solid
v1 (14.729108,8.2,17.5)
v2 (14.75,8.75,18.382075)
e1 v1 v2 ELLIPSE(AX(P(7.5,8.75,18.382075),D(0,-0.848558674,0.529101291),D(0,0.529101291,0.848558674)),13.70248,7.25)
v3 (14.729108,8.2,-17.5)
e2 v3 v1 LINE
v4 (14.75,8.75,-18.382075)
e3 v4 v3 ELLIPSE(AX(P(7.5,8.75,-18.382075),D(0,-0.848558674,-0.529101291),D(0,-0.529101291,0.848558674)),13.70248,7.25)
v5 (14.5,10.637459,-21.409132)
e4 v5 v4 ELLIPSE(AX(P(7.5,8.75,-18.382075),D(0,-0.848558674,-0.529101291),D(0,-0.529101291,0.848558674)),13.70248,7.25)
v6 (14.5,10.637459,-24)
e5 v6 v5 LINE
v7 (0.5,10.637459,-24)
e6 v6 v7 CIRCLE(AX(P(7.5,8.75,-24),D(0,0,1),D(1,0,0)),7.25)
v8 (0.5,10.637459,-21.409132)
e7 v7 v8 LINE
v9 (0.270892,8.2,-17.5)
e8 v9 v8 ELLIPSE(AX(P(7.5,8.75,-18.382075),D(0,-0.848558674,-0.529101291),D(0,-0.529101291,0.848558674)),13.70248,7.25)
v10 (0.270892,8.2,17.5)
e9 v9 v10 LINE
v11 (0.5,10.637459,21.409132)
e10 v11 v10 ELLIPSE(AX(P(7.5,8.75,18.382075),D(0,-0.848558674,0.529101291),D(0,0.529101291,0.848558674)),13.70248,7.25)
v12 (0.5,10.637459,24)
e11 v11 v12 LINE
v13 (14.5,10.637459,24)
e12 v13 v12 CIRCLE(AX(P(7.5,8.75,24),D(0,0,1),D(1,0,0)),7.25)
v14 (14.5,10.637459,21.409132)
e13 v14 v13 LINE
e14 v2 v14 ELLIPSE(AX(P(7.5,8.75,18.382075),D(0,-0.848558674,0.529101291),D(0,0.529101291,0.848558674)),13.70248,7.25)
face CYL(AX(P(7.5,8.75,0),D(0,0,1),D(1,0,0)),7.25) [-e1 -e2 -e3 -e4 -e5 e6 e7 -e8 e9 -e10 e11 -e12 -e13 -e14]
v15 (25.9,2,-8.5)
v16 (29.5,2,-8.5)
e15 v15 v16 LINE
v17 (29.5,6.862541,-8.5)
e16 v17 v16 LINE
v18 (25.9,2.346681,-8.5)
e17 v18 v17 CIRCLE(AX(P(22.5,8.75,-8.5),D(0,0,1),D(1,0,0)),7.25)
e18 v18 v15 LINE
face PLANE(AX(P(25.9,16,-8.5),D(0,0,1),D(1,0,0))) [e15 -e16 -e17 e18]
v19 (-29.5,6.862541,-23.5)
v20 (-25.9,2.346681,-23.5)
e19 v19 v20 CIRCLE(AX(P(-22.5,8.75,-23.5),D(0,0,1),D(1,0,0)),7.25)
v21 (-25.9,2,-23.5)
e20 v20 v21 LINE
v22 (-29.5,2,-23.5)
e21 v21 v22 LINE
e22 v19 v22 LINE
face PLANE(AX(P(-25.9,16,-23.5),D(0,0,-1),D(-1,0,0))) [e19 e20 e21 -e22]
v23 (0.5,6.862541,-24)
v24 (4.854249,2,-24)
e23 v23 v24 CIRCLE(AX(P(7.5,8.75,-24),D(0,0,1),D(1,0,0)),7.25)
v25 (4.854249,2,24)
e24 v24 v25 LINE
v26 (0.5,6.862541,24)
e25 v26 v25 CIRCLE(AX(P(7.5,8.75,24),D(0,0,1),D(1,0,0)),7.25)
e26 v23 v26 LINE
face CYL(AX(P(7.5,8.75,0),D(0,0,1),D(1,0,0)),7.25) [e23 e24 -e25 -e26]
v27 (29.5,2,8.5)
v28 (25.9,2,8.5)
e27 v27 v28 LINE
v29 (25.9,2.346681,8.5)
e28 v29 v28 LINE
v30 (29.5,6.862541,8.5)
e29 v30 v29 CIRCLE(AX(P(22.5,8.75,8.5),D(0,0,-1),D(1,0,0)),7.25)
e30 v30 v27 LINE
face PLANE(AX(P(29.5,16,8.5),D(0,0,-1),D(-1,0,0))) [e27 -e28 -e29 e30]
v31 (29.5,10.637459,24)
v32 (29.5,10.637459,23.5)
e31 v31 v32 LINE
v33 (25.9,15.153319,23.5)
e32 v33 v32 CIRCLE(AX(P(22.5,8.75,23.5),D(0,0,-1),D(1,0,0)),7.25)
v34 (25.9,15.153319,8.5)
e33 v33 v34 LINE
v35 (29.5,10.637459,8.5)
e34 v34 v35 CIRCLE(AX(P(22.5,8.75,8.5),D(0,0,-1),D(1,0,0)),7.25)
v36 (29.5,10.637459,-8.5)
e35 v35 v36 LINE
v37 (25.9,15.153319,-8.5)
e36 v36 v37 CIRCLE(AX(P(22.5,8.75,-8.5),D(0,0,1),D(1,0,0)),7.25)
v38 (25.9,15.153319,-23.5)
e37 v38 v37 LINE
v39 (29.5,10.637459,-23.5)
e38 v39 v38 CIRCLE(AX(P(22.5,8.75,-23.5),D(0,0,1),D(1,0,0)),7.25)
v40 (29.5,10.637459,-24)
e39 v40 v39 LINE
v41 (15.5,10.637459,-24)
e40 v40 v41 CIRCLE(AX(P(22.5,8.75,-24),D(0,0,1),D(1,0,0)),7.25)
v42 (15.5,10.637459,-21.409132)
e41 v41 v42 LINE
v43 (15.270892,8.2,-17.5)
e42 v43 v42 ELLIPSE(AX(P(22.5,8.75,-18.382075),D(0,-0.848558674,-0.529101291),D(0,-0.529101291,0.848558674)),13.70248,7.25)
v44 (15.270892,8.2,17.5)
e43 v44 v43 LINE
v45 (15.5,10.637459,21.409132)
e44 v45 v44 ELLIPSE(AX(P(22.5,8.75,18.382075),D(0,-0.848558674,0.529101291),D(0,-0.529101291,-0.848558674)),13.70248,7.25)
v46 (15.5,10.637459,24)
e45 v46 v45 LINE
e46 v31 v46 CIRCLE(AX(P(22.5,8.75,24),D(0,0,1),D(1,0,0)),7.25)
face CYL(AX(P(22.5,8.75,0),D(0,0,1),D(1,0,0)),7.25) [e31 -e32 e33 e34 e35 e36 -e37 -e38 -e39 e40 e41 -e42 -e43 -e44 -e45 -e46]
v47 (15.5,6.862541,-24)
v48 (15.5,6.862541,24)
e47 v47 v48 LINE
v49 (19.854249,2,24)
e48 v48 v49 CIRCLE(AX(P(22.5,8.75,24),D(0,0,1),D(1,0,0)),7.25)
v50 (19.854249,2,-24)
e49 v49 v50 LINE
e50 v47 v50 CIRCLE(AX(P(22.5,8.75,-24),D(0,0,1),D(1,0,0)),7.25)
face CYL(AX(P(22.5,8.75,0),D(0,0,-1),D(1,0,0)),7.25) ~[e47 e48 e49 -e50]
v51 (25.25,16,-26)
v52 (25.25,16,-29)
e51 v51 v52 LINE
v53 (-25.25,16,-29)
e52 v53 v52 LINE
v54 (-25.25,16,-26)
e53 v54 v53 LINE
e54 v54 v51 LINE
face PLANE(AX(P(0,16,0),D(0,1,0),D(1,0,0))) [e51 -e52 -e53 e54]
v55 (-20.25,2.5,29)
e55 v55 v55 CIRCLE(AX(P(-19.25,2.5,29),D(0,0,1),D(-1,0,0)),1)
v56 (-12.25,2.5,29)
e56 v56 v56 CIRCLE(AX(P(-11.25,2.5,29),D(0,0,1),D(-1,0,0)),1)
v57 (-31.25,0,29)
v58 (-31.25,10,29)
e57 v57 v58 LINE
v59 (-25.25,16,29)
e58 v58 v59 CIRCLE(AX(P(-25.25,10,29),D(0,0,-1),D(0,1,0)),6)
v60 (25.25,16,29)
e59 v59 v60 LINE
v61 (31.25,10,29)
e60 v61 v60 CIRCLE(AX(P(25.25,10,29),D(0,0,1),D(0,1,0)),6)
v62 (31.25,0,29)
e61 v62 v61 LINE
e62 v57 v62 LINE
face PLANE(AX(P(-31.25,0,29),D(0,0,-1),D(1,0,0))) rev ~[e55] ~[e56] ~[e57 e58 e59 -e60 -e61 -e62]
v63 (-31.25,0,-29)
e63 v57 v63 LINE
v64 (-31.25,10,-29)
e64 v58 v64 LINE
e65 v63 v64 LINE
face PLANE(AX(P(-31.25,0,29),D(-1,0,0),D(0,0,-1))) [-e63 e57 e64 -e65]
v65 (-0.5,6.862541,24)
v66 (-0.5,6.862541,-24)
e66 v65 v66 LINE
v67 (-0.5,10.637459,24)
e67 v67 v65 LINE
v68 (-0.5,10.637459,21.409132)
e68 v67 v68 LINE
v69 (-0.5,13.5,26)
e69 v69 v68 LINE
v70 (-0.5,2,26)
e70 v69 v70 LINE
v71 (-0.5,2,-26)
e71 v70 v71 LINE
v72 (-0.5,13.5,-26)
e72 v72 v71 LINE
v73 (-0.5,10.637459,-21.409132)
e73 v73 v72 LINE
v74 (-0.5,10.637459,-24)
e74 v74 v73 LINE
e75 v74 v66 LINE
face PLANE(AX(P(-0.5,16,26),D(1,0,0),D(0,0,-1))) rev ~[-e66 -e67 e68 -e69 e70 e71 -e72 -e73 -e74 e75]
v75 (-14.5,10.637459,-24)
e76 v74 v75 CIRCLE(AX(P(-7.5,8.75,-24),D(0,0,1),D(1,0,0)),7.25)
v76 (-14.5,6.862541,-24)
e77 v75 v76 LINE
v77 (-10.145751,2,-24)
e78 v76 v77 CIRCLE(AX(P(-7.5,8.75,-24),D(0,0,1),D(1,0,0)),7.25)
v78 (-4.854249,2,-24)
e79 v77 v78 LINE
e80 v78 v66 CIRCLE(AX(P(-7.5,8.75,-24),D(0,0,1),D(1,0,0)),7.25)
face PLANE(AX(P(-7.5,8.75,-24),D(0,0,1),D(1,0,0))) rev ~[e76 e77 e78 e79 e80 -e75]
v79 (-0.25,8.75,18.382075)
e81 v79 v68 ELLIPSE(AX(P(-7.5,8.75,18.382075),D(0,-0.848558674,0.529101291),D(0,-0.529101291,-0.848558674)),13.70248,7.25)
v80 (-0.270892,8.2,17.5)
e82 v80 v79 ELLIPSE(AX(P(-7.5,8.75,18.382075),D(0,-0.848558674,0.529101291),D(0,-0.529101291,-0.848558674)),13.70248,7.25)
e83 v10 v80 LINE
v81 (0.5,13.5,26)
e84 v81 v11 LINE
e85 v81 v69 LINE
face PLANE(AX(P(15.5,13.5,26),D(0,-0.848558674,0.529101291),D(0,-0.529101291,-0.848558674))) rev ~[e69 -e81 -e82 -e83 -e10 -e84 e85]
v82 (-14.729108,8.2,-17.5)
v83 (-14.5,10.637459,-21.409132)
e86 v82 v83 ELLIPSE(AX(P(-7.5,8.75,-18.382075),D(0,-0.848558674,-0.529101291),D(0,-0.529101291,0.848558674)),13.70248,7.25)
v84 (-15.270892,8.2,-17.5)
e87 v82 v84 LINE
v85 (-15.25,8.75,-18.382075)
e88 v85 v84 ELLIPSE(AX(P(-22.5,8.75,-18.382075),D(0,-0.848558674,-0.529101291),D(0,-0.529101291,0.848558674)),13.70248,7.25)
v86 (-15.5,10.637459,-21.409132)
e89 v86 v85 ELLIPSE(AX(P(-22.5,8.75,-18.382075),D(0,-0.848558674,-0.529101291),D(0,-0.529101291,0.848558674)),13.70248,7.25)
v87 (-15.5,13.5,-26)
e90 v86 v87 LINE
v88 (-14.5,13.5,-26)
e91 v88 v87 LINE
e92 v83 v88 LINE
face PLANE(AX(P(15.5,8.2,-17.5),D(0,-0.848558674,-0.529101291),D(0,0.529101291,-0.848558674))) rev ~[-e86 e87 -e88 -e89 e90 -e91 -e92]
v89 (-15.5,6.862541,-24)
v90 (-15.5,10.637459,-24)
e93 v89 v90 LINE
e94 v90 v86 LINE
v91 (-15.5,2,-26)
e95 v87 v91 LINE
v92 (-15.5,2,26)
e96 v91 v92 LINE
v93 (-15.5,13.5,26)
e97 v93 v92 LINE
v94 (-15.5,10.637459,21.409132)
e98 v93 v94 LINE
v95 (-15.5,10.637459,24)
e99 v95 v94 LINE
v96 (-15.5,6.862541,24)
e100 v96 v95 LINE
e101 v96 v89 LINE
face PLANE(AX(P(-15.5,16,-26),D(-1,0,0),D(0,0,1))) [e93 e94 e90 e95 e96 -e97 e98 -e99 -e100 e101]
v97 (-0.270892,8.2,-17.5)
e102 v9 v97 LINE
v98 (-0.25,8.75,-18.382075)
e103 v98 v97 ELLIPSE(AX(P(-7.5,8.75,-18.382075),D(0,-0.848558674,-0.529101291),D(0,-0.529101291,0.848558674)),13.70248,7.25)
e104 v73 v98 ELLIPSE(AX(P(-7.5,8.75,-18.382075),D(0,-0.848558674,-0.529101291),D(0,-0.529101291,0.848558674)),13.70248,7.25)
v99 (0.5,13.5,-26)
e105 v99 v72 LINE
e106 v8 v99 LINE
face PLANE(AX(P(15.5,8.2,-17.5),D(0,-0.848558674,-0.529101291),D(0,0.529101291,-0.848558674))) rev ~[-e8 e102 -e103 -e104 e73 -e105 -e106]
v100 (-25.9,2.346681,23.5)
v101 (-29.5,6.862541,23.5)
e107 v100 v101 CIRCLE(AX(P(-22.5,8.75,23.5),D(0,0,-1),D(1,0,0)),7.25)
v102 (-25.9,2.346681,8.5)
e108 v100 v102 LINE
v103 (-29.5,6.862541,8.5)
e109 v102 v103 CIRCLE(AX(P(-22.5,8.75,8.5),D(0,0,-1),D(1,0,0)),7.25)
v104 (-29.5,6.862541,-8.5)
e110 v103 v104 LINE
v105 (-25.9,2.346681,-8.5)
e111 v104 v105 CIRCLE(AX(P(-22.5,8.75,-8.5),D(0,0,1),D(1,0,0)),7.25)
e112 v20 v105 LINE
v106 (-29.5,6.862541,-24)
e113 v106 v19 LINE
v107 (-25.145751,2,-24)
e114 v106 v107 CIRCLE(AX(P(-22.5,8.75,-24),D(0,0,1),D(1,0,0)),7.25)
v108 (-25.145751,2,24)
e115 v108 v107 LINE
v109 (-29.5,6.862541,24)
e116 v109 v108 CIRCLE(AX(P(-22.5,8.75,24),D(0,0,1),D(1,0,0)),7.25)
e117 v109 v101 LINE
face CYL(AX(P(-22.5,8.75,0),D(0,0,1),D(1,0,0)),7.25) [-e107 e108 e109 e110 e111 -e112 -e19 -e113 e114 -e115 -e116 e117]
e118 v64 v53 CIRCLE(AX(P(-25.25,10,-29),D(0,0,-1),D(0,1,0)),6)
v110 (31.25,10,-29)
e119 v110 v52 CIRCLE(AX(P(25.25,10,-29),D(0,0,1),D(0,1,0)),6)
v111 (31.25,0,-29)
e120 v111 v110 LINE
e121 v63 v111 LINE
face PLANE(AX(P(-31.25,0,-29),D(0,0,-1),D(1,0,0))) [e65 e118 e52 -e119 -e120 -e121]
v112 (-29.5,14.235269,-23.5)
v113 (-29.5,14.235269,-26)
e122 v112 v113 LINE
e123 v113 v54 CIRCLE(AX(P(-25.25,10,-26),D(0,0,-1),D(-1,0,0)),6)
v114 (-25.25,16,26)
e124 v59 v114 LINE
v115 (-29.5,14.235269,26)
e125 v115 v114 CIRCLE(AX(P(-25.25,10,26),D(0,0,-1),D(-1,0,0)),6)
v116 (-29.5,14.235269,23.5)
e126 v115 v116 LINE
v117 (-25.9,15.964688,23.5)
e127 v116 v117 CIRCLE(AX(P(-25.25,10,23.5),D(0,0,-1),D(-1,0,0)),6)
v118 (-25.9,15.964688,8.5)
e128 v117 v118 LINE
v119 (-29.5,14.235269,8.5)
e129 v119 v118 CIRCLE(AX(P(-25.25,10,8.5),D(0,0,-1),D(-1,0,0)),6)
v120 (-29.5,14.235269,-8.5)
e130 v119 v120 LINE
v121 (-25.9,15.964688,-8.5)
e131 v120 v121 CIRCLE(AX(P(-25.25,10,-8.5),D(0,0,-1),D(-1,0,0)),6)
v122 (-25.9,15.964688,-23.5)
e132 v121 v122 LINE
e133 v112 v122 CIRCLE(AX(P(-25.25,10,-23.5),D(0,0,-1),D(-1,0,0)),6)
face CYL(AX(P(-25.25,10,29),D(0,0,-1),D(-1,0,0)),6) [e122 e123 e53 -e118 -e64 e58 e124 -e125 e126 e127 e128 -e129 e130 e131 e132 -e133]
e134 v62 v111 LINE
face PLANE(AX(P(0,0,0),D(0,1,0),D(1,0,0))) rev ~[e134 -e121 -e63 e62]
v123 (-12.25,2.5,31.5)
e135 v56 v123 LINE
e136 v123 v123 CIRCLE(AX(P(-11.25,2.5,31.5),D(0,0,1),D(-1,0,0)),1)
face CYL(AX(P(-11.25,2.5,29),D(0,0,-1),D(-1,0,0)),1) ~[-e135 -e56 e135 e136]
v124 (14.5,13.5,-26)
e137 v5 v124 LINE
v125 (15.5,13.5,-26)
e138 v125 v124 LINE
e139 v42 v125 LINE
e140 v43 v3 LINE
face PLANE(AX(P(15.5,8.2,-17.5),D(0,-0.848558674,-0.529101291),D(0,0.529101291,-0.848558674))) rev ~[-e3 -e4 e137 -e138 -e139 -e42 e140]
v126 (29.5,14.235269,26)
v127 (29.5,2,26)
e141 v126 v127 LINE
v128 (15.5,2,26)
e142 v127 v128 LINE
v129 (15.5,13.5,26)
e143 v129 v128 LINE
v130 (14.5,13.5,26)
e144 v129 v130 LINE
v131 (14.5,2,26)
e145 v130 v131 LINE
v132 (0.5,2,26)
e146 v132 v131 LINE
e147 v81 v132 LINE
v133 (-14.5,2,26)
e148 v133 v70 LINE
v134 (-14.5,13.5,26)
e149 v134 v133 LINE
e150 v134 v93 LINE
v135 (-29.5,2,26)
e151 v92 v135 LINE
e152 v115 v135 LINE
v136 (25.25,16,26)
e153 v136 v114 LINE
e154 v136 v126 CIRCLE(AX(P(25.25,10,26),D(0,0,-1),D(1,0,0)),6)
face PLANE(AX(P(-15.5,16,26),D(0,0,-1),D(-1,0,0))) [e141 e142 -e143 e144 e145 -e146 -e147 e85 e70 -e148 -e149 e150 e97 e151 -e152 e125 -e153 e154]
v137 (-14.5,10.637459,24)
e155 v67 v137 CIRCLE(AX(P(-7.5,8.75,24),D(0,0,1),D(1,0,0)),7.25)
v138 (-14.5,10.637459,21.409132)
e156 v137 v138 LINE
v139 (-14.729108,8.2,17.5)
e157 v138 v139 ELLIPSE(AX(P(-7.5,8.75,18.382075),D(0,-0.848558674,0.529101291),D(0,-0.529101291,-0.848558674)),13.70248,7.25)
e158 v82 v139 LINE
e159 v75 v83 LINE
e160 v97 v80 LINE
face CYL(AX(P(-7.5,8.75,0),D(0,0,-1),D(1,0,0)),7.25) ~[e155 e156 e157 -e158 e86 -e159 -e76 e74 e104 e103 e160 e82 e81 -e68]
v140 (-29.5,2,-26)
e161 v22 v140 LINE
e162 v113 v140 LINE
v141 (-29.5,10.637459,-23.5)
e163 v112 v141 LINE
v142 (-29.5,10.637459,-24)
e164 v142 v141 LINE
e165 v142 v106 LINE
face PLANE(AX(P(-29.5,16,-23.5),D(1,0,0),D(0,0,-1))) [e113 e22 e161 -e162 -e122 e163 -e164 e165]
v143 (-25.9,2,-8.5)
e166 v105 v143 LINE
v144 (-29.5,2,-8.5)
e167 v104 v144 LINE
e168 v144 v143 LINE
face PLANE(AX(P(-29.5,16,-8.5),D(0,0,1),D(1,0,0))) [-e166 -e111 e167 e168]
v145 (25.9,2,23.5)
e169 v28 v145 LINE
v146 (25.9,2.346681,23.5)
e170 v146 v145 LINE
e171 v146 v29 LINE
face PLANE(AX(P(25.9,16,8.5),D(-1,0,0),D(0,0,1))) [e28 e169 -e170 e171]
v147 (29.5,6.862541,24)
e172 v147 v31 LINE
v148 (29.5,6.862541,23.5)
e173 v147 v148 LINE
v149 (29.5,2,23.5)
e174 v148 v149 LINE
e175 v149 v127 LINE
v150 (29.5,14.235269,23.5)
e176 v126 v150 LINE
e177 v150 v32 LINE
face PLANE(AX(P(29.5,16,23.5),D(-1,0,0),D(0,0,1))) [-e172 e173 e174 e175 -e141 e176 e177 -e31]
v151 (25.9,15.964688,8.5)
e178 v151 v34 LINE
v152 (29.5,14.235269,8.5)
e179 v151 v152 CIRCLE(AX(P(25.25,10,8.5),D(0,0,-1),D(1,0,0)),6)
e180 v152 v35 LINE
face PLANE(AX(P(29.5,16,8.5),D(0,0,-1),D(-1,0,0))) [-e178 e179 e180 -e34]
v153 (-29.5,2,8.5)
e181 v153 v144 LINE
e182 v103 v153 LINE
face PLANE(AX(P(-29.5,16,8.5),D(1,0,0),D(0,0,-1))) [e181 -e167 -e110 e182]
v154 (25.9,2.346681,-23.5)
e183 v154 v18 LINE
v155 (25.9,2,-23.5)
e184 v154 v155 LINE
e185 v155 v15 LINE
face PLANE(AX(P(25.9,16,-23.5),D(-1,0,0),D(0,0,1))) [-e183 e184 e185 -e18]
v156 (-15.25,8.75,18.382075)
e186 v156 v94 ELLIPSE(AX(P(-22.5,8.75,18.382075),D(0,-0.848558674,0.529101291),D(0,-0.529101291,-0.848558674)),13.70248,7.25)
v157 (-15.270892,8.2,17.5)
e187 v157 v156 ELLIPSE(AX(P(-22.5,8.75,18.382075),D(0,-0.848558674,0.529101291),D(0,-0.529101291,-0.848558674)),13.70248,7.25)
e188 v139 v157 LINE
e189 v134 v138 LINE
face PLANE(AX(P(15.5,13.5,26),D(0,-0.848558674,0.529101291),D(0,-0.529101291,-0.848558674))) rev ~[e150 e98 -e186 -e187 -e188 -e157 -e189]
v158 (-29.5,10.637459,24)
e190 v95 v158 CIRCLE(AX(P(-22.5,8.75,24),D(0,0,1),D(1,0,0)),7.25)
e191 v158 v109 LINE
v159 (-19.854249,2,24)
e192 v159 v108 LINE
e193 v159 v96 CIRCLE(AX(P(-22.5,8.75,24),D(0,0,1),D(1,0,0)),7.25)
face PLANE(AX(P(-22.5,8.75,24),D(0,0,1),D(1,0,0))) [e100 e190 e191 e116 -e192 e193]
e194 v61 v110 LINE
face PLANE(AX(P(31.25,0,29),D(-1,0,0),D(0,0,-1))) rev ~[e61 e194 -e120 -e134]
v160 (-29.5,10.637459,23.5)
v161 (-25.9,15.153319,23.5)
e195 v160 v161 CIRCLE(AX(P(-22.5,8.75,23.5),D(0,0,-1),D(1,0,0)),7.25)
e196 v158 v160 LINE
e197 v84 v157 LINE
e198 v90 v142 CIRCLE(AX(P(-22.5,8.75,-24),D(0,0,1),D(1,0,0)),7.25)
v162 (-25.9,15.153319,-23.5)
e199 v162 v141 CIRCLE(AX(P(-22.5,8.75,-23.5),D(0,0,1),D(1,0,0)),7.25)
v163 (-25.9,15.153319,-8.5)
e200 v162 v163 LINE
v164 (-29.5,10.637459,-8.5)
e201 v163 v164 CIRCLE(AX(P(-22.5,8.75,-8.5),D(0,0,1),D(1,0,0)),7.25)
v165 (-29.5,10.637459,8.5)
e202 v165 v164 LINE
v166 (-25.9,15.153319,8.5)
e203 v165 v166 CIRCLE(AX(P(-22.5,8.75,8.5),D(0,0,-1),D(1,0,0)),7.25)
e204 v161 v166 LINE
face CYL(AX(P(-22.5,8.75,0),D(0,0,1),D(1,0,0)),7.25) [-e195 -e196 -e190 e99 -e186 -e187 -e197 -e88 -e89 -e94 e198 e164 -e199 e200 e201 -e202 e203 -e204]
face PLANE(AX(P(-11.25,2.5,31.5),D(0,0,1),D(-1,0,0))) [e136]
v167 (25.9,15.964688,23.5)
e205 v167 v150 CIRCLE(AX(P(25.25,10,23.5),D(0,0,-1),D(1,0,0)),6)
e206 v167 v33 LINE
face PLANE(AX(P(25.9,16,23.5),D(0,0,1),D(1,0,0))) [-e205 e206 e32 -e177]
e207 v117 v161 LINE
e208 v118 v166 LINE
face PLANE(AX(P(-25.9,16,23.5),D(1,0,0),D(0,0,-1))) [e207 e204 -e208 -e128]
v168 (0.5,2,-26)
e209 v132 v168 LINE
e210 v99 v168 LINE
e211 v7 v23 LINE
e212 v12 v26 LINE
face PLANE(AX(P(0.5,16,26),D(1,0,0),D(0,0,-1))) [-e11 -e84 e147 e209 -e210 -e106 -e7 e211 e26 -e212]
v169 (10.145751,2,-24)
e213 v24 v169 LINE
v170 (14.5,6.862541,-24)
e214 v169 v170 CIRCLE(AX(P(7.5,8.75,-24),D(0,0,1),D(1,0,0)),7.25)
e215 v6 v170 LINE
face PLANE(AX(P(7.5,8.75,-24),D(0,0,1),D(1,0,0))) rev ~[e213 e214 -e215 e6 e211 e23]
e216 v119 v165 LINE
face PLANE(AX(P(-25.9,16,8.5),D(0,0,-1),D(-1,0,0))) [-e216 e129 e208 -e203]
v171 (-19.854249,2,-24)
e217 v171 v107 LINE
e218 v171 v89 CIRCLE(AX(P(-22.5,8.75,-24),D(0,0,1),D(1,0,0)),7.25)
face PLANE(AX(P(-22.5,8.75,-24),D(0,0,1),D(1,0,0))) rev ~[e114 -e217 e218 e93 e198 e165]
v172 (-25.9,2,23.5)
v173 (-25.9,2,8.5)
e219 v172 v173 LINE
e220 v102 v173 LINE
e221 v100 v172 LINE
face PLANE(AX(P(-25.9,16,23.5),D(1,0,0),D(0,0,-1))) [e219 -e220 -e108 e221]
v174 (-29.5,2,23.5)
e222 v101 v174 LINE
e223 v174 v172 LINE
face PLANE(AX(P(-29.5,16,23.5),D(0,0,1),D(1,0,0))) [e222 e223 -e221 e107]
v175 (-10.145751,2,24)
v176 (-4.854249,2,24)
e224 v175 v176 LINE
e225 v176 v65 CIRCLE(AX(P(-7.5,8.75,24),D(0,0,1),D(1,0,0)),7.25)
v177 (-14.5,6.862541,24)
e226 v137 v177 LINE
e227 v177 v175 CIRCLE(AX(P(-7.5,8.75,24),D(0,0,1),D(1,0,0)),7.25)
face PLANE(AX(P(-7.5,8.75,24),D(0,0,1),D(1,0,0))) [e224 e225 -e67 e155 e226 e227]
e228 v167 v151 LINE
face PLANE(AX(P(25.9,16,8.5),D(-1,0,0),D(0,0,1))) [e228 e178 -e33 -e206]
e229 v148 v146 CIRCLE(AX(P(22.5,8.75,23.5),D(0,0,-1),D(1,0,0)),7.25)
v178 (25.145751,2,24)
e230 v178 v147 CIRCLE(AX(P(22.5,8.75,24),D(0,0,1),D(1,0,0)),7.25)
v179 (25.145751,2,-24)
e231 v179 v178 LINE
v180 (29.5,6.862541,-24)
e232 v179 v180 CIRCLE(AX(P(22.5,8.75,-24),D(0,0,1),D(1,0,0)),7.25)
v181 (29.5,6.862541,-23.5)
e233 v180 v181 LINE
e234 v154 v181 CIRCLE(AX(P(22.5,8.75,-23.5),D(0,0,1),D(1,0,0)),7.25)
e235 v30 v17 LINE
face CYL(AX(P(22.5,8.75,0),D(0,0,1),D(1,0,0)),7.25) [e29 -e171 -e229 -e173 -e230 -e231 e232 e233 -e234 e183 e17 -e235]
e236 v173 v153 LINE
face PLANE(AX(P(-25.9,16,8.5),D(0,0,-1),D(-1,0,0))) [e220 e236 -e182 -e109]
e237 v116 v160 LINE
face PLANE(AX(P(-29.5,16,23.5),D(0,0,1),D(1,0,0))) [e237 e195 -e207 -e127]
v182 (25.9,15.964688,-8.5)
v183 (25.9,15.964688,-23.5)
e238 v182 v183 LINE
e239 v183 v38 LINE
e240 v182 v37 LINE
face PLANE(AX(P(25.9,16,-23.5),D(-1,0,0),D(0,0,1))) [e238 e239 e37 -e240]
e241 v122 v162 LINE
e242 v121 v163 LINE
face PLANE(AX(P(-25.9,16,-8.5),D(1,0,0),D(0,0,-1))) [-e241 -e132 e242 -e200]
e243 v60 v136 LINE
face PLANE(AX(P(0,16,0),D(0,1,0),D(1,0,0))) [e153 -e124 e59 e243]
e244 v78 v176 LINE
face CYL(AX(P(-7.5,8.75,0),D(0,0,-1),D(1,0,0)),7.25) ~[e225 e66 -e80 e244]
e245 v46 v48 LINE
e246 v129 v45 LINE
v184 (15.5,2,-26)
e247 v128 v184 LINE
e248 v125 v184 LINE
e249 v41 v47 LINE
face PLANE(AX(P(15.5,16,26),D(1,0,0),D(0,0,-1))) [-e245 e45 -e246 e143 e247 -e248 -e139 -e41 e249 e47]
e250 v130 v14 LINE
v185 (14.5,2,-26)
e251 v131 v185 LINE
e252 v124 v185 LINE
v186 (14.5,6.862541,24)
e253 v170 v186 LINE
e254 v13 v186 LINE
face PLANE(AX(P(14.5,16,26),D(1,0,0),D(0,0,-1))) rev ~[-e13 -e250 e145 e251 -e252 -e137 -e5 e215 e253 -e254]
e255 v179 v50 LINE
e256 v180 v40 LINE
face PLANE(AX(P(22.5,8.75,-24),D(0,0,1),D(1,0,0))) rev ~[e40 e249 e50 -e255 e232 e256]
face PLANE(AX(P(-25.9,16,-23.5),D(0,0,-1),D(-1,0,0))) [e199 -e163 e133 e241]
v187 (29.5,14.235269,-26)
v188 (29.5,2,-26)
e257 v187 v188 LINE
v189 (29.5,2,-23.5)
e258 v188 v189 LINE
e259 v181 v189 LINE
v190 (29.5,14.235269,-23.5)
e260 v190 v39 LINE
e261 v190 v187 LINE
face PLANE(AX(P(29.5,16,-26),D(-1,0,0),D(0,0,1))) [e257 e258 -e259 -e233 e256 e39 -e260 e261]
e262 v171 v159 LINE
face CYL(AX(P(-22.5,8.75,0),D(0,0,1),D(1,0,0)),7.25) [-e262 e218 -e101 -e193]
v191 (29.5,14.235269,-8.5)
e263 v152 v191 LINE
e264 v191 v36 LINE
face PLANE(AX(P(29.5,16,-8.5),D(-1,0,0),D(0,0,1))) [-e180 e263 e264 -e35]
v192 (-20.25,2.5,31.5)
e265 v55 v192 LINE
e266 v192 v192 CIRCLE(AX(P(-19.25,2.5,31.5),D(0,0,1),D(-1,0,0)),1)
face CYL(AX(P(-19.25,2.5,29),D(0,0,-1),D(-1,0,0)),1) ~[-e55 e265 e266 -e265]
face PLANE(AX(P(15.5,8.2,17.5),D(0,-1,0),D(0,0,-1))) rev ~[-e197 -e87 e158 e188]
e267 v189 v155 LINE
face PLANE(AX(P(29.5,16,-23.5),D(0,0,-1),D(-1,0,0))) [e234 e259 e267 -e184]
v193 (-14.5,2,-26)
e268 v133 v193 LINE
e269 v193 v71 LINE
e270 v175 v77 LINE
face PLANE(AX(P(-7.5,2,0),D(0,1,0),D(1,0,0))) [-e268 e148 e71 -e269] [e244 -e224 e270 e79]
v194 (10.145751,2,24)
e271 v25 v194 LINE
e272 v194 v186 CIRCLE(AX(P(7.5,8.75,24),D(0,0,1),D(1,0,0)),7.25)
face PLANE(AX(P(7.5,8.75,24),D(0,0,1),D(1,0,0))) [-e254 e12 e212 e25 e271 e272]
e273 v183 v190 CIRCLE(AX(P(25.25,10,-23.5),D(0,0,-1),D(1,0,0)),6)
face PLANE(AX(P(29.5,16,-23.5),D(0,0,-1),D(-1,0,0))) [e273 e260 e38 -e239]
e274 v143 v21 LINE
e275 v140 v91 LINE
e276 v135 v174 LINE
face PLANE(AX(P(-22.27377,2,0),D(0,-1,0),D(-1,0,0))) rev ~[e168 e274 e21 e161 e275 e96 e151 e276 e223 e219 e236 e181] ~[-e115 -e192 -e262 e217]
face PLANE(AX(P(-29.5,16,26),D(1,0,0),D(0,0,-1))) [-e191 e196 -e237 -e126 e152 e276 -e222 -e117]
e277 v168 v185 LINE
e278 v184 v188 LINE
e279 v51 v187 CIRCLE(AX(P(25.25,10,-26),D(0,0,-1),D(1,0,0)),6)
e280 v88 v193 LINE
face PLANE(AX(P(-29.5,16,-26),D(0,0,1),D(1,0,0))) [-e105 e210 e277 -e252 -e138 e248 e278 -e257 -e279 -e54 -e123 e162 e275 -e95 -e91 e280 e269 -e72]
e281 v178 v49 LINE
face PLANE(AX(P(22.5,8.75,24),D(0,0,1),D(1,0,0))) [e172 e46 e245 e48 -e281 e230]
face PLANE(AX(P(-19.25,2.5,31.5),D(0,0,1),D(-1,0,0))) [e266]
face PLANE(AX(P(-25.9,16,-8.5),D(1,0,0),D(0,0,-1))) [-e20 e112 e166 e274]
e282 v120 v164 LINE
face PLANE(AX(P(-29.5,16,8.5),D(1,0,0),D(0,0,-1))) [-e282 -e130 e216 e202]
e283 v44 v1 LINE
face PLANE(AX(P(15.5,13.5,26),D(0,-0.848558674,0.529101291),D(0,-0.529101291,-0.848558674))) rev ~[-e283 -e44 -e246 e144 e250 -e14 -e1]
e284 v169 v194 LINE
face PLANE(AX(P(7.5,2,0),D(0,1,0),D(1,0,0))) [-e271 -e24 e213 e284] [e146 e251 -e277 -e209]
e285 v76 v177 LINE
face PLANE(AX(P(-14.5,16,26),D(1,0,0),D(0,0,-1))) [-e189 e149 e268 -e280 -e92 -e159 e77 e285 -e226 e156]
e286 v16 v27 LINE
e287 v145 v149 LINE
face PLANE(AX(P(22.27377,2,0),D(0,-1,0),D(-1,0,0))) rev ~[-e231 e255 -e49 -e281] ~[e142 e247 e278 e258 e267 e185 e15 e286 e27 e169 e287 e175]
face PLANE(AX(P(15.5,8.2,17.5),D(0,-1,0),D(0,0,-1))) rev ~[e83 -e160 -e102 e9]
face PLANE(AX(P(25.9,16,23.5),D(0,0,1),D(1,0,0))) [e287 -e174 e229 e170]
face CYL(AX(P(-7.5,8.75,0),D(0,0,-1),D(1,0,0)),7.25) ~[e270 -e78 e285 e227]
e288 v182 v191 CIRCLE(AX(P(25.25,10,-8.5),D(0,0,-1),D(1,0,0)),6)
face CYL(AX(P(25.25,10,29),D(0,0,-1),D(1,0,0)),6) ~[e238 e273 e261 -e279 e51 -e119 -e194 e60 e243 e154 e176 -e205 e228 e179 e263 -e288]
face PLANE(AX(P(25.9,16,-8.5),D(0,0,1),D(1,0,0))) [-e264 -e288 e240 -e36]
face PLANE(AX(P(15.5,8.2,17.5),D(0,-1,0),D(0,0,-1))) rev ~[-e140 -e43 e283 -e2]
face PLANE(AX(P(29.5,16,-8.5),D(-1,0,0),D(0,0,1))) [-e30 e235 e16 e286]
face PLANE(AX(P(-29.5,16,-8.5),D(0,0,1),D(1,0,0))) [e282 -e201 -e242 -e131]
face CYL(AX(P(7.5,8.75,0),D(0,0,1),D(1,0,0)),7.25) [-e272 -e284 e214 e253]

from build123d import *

# Parameters (mm, degrees)
SKETCH1_W           = 62.5
SKETCH1_H           = 58
BOSS_EXTRUDE1_DEPTH = 16
FILLET1_R           = 6
SKETCH2_W           = 14
SKETCH2_H           = 52
CUT_EXTRUDE1_DEPTH  = 14
CUT_EXTRUDE2_REACH  = 59.294
SKETCH4_R           = 7.25
BOSS_EXTRUDE3_DEPTH = 24
SKETCH6_R           = 1
BOSS_EXTRUDE5_DEPTH = 2.5


with BuildPart() as part:
    # Sketch1 → Boss-Extrude1 (new body)
    with BuildSketch(Plane(origin=(0, 0, 0), x_dir=(1, 0, 0), z_dir=(0, 1, 0))):
        Rectangle(SKETCH1_W, SKETCH1_H)
    extrude(amount=BOSS_EXTRUDE1_DEPTH)

    # Fillet1
    fillet1_edges = [part.edges().sort_by_distance(p)[0] for p in [
        (-31.25, 16, 0),
        (31.25, 16, 0),
    ]]
    fillet(fillet1_edges, radius=FILLET1_R)

    # Sketch2 → Cut-Extrude1 (cut)
    with BuildSketch(Plane(origin=(0, 16, 0), x_dir=(1, 0, 0), z_dir=(0, 1, 0))):
        Polygon((-29.5, 26), (-15.5, 26), (-15.5, -26), (-29.5, -26), (-29.5, -23.5), (-25.9, -23.5), (-25.9, -8.5), (-29.5, -8.5), (-29.5, 8.5), (-25.9, 8.5), (-25.9, 23.5), (-29.5, 23.5), align=None)
        with Locations((-7.5, 0)):
            Rectangle(SKETCH2_W, SKETCH2_H)
        Polygon((15.5, 26), (29.5, 26), (29.5, 23.5), (25.9, 23.5), (25.9, 8.5), (29.5, 8.5), (29.5, -8.5), (25.9, -8.5), (25.9, -23.5), (29.5, -23.5), (29.5, -26), (15.5, -26), align=None)
        with Locations((7.5, 0)):
            Rectangle(SKETCH2_W, SKETCH2_H)
    extrude(amount=-CUT_EXTRUDE1_DEPTH, mode=Mode.SUBTRACT)

    # Cut-Extrude2: up to this face of the body (flat: up to its plane)
    cut_extrude2_end = Plane(part.part.faces().sort_by_distance((-15.5, 9, 0))[0])
    # Sketch3 → Cut-Extrude2 (cut, up to the picked face)
    with BuildSketch(Plane(origin=(15.5, 0, 0), x_dir=(0, 0, -1), z_dir=(1, 0, 0)), mode=Mode.PRIVATE) as cut_extrude2_sk1:
        Polygon((-26, 16), (-26, 13.5), (-17.5, 8.2), (17.5, 8.2), (26, 13.5), (26, 16), align=None)
    cut_extrude2_tool1 = split(extrude(cut_extrude2_sk1.sketch, amount=-CUT_EXTRUDE2_REACH, mode=Mode.PRIVATE), bisect_by=cut_extrude2_end, keep=Keep.BOTH, mode=Mode.PRIVATE)
    add(cut_extrude2_tool1.solids().sort_by(Axis((15.5, 12.366556, 0), (-1, 0, 0)))[0], mode=Mode.SUBTRACT)

    # Sketch4 → Boss-Extrude3 (add, symmetric)
    with BuildSketch(Plane.XY):
        with Locations((-22.5, 8.75)):
            Circle(SKETCH4_R)
        with Locations((-7.5, 8.75)):
            Circle(SKETCH4_R)
        with Locations((22.5, 8.75)):
            Circle(SKETCH4_R)
        with Locations((7.5, 8.75)):
            Circle(SKETCH4_R)
    extrude(amount=BOSS_EXTRUDE3_DEPTH, both=True)

    # Sketch6 → Boss-Extrude5 (add)
    with BuildSketch(Plane.XY.offset(29)):
        with Locations(Location((-19.25, 2.5, 0), (0, 0, 180))):
            Circle(SKETCH6_R)
        with Locations(Location((-11.25, 2.5, 0), (0, 0, 180))):
            Circle(SKETCH6_R)
    extrude(amount=BOSS_EXTRUDE5_DEPTH)


solid = part.part
